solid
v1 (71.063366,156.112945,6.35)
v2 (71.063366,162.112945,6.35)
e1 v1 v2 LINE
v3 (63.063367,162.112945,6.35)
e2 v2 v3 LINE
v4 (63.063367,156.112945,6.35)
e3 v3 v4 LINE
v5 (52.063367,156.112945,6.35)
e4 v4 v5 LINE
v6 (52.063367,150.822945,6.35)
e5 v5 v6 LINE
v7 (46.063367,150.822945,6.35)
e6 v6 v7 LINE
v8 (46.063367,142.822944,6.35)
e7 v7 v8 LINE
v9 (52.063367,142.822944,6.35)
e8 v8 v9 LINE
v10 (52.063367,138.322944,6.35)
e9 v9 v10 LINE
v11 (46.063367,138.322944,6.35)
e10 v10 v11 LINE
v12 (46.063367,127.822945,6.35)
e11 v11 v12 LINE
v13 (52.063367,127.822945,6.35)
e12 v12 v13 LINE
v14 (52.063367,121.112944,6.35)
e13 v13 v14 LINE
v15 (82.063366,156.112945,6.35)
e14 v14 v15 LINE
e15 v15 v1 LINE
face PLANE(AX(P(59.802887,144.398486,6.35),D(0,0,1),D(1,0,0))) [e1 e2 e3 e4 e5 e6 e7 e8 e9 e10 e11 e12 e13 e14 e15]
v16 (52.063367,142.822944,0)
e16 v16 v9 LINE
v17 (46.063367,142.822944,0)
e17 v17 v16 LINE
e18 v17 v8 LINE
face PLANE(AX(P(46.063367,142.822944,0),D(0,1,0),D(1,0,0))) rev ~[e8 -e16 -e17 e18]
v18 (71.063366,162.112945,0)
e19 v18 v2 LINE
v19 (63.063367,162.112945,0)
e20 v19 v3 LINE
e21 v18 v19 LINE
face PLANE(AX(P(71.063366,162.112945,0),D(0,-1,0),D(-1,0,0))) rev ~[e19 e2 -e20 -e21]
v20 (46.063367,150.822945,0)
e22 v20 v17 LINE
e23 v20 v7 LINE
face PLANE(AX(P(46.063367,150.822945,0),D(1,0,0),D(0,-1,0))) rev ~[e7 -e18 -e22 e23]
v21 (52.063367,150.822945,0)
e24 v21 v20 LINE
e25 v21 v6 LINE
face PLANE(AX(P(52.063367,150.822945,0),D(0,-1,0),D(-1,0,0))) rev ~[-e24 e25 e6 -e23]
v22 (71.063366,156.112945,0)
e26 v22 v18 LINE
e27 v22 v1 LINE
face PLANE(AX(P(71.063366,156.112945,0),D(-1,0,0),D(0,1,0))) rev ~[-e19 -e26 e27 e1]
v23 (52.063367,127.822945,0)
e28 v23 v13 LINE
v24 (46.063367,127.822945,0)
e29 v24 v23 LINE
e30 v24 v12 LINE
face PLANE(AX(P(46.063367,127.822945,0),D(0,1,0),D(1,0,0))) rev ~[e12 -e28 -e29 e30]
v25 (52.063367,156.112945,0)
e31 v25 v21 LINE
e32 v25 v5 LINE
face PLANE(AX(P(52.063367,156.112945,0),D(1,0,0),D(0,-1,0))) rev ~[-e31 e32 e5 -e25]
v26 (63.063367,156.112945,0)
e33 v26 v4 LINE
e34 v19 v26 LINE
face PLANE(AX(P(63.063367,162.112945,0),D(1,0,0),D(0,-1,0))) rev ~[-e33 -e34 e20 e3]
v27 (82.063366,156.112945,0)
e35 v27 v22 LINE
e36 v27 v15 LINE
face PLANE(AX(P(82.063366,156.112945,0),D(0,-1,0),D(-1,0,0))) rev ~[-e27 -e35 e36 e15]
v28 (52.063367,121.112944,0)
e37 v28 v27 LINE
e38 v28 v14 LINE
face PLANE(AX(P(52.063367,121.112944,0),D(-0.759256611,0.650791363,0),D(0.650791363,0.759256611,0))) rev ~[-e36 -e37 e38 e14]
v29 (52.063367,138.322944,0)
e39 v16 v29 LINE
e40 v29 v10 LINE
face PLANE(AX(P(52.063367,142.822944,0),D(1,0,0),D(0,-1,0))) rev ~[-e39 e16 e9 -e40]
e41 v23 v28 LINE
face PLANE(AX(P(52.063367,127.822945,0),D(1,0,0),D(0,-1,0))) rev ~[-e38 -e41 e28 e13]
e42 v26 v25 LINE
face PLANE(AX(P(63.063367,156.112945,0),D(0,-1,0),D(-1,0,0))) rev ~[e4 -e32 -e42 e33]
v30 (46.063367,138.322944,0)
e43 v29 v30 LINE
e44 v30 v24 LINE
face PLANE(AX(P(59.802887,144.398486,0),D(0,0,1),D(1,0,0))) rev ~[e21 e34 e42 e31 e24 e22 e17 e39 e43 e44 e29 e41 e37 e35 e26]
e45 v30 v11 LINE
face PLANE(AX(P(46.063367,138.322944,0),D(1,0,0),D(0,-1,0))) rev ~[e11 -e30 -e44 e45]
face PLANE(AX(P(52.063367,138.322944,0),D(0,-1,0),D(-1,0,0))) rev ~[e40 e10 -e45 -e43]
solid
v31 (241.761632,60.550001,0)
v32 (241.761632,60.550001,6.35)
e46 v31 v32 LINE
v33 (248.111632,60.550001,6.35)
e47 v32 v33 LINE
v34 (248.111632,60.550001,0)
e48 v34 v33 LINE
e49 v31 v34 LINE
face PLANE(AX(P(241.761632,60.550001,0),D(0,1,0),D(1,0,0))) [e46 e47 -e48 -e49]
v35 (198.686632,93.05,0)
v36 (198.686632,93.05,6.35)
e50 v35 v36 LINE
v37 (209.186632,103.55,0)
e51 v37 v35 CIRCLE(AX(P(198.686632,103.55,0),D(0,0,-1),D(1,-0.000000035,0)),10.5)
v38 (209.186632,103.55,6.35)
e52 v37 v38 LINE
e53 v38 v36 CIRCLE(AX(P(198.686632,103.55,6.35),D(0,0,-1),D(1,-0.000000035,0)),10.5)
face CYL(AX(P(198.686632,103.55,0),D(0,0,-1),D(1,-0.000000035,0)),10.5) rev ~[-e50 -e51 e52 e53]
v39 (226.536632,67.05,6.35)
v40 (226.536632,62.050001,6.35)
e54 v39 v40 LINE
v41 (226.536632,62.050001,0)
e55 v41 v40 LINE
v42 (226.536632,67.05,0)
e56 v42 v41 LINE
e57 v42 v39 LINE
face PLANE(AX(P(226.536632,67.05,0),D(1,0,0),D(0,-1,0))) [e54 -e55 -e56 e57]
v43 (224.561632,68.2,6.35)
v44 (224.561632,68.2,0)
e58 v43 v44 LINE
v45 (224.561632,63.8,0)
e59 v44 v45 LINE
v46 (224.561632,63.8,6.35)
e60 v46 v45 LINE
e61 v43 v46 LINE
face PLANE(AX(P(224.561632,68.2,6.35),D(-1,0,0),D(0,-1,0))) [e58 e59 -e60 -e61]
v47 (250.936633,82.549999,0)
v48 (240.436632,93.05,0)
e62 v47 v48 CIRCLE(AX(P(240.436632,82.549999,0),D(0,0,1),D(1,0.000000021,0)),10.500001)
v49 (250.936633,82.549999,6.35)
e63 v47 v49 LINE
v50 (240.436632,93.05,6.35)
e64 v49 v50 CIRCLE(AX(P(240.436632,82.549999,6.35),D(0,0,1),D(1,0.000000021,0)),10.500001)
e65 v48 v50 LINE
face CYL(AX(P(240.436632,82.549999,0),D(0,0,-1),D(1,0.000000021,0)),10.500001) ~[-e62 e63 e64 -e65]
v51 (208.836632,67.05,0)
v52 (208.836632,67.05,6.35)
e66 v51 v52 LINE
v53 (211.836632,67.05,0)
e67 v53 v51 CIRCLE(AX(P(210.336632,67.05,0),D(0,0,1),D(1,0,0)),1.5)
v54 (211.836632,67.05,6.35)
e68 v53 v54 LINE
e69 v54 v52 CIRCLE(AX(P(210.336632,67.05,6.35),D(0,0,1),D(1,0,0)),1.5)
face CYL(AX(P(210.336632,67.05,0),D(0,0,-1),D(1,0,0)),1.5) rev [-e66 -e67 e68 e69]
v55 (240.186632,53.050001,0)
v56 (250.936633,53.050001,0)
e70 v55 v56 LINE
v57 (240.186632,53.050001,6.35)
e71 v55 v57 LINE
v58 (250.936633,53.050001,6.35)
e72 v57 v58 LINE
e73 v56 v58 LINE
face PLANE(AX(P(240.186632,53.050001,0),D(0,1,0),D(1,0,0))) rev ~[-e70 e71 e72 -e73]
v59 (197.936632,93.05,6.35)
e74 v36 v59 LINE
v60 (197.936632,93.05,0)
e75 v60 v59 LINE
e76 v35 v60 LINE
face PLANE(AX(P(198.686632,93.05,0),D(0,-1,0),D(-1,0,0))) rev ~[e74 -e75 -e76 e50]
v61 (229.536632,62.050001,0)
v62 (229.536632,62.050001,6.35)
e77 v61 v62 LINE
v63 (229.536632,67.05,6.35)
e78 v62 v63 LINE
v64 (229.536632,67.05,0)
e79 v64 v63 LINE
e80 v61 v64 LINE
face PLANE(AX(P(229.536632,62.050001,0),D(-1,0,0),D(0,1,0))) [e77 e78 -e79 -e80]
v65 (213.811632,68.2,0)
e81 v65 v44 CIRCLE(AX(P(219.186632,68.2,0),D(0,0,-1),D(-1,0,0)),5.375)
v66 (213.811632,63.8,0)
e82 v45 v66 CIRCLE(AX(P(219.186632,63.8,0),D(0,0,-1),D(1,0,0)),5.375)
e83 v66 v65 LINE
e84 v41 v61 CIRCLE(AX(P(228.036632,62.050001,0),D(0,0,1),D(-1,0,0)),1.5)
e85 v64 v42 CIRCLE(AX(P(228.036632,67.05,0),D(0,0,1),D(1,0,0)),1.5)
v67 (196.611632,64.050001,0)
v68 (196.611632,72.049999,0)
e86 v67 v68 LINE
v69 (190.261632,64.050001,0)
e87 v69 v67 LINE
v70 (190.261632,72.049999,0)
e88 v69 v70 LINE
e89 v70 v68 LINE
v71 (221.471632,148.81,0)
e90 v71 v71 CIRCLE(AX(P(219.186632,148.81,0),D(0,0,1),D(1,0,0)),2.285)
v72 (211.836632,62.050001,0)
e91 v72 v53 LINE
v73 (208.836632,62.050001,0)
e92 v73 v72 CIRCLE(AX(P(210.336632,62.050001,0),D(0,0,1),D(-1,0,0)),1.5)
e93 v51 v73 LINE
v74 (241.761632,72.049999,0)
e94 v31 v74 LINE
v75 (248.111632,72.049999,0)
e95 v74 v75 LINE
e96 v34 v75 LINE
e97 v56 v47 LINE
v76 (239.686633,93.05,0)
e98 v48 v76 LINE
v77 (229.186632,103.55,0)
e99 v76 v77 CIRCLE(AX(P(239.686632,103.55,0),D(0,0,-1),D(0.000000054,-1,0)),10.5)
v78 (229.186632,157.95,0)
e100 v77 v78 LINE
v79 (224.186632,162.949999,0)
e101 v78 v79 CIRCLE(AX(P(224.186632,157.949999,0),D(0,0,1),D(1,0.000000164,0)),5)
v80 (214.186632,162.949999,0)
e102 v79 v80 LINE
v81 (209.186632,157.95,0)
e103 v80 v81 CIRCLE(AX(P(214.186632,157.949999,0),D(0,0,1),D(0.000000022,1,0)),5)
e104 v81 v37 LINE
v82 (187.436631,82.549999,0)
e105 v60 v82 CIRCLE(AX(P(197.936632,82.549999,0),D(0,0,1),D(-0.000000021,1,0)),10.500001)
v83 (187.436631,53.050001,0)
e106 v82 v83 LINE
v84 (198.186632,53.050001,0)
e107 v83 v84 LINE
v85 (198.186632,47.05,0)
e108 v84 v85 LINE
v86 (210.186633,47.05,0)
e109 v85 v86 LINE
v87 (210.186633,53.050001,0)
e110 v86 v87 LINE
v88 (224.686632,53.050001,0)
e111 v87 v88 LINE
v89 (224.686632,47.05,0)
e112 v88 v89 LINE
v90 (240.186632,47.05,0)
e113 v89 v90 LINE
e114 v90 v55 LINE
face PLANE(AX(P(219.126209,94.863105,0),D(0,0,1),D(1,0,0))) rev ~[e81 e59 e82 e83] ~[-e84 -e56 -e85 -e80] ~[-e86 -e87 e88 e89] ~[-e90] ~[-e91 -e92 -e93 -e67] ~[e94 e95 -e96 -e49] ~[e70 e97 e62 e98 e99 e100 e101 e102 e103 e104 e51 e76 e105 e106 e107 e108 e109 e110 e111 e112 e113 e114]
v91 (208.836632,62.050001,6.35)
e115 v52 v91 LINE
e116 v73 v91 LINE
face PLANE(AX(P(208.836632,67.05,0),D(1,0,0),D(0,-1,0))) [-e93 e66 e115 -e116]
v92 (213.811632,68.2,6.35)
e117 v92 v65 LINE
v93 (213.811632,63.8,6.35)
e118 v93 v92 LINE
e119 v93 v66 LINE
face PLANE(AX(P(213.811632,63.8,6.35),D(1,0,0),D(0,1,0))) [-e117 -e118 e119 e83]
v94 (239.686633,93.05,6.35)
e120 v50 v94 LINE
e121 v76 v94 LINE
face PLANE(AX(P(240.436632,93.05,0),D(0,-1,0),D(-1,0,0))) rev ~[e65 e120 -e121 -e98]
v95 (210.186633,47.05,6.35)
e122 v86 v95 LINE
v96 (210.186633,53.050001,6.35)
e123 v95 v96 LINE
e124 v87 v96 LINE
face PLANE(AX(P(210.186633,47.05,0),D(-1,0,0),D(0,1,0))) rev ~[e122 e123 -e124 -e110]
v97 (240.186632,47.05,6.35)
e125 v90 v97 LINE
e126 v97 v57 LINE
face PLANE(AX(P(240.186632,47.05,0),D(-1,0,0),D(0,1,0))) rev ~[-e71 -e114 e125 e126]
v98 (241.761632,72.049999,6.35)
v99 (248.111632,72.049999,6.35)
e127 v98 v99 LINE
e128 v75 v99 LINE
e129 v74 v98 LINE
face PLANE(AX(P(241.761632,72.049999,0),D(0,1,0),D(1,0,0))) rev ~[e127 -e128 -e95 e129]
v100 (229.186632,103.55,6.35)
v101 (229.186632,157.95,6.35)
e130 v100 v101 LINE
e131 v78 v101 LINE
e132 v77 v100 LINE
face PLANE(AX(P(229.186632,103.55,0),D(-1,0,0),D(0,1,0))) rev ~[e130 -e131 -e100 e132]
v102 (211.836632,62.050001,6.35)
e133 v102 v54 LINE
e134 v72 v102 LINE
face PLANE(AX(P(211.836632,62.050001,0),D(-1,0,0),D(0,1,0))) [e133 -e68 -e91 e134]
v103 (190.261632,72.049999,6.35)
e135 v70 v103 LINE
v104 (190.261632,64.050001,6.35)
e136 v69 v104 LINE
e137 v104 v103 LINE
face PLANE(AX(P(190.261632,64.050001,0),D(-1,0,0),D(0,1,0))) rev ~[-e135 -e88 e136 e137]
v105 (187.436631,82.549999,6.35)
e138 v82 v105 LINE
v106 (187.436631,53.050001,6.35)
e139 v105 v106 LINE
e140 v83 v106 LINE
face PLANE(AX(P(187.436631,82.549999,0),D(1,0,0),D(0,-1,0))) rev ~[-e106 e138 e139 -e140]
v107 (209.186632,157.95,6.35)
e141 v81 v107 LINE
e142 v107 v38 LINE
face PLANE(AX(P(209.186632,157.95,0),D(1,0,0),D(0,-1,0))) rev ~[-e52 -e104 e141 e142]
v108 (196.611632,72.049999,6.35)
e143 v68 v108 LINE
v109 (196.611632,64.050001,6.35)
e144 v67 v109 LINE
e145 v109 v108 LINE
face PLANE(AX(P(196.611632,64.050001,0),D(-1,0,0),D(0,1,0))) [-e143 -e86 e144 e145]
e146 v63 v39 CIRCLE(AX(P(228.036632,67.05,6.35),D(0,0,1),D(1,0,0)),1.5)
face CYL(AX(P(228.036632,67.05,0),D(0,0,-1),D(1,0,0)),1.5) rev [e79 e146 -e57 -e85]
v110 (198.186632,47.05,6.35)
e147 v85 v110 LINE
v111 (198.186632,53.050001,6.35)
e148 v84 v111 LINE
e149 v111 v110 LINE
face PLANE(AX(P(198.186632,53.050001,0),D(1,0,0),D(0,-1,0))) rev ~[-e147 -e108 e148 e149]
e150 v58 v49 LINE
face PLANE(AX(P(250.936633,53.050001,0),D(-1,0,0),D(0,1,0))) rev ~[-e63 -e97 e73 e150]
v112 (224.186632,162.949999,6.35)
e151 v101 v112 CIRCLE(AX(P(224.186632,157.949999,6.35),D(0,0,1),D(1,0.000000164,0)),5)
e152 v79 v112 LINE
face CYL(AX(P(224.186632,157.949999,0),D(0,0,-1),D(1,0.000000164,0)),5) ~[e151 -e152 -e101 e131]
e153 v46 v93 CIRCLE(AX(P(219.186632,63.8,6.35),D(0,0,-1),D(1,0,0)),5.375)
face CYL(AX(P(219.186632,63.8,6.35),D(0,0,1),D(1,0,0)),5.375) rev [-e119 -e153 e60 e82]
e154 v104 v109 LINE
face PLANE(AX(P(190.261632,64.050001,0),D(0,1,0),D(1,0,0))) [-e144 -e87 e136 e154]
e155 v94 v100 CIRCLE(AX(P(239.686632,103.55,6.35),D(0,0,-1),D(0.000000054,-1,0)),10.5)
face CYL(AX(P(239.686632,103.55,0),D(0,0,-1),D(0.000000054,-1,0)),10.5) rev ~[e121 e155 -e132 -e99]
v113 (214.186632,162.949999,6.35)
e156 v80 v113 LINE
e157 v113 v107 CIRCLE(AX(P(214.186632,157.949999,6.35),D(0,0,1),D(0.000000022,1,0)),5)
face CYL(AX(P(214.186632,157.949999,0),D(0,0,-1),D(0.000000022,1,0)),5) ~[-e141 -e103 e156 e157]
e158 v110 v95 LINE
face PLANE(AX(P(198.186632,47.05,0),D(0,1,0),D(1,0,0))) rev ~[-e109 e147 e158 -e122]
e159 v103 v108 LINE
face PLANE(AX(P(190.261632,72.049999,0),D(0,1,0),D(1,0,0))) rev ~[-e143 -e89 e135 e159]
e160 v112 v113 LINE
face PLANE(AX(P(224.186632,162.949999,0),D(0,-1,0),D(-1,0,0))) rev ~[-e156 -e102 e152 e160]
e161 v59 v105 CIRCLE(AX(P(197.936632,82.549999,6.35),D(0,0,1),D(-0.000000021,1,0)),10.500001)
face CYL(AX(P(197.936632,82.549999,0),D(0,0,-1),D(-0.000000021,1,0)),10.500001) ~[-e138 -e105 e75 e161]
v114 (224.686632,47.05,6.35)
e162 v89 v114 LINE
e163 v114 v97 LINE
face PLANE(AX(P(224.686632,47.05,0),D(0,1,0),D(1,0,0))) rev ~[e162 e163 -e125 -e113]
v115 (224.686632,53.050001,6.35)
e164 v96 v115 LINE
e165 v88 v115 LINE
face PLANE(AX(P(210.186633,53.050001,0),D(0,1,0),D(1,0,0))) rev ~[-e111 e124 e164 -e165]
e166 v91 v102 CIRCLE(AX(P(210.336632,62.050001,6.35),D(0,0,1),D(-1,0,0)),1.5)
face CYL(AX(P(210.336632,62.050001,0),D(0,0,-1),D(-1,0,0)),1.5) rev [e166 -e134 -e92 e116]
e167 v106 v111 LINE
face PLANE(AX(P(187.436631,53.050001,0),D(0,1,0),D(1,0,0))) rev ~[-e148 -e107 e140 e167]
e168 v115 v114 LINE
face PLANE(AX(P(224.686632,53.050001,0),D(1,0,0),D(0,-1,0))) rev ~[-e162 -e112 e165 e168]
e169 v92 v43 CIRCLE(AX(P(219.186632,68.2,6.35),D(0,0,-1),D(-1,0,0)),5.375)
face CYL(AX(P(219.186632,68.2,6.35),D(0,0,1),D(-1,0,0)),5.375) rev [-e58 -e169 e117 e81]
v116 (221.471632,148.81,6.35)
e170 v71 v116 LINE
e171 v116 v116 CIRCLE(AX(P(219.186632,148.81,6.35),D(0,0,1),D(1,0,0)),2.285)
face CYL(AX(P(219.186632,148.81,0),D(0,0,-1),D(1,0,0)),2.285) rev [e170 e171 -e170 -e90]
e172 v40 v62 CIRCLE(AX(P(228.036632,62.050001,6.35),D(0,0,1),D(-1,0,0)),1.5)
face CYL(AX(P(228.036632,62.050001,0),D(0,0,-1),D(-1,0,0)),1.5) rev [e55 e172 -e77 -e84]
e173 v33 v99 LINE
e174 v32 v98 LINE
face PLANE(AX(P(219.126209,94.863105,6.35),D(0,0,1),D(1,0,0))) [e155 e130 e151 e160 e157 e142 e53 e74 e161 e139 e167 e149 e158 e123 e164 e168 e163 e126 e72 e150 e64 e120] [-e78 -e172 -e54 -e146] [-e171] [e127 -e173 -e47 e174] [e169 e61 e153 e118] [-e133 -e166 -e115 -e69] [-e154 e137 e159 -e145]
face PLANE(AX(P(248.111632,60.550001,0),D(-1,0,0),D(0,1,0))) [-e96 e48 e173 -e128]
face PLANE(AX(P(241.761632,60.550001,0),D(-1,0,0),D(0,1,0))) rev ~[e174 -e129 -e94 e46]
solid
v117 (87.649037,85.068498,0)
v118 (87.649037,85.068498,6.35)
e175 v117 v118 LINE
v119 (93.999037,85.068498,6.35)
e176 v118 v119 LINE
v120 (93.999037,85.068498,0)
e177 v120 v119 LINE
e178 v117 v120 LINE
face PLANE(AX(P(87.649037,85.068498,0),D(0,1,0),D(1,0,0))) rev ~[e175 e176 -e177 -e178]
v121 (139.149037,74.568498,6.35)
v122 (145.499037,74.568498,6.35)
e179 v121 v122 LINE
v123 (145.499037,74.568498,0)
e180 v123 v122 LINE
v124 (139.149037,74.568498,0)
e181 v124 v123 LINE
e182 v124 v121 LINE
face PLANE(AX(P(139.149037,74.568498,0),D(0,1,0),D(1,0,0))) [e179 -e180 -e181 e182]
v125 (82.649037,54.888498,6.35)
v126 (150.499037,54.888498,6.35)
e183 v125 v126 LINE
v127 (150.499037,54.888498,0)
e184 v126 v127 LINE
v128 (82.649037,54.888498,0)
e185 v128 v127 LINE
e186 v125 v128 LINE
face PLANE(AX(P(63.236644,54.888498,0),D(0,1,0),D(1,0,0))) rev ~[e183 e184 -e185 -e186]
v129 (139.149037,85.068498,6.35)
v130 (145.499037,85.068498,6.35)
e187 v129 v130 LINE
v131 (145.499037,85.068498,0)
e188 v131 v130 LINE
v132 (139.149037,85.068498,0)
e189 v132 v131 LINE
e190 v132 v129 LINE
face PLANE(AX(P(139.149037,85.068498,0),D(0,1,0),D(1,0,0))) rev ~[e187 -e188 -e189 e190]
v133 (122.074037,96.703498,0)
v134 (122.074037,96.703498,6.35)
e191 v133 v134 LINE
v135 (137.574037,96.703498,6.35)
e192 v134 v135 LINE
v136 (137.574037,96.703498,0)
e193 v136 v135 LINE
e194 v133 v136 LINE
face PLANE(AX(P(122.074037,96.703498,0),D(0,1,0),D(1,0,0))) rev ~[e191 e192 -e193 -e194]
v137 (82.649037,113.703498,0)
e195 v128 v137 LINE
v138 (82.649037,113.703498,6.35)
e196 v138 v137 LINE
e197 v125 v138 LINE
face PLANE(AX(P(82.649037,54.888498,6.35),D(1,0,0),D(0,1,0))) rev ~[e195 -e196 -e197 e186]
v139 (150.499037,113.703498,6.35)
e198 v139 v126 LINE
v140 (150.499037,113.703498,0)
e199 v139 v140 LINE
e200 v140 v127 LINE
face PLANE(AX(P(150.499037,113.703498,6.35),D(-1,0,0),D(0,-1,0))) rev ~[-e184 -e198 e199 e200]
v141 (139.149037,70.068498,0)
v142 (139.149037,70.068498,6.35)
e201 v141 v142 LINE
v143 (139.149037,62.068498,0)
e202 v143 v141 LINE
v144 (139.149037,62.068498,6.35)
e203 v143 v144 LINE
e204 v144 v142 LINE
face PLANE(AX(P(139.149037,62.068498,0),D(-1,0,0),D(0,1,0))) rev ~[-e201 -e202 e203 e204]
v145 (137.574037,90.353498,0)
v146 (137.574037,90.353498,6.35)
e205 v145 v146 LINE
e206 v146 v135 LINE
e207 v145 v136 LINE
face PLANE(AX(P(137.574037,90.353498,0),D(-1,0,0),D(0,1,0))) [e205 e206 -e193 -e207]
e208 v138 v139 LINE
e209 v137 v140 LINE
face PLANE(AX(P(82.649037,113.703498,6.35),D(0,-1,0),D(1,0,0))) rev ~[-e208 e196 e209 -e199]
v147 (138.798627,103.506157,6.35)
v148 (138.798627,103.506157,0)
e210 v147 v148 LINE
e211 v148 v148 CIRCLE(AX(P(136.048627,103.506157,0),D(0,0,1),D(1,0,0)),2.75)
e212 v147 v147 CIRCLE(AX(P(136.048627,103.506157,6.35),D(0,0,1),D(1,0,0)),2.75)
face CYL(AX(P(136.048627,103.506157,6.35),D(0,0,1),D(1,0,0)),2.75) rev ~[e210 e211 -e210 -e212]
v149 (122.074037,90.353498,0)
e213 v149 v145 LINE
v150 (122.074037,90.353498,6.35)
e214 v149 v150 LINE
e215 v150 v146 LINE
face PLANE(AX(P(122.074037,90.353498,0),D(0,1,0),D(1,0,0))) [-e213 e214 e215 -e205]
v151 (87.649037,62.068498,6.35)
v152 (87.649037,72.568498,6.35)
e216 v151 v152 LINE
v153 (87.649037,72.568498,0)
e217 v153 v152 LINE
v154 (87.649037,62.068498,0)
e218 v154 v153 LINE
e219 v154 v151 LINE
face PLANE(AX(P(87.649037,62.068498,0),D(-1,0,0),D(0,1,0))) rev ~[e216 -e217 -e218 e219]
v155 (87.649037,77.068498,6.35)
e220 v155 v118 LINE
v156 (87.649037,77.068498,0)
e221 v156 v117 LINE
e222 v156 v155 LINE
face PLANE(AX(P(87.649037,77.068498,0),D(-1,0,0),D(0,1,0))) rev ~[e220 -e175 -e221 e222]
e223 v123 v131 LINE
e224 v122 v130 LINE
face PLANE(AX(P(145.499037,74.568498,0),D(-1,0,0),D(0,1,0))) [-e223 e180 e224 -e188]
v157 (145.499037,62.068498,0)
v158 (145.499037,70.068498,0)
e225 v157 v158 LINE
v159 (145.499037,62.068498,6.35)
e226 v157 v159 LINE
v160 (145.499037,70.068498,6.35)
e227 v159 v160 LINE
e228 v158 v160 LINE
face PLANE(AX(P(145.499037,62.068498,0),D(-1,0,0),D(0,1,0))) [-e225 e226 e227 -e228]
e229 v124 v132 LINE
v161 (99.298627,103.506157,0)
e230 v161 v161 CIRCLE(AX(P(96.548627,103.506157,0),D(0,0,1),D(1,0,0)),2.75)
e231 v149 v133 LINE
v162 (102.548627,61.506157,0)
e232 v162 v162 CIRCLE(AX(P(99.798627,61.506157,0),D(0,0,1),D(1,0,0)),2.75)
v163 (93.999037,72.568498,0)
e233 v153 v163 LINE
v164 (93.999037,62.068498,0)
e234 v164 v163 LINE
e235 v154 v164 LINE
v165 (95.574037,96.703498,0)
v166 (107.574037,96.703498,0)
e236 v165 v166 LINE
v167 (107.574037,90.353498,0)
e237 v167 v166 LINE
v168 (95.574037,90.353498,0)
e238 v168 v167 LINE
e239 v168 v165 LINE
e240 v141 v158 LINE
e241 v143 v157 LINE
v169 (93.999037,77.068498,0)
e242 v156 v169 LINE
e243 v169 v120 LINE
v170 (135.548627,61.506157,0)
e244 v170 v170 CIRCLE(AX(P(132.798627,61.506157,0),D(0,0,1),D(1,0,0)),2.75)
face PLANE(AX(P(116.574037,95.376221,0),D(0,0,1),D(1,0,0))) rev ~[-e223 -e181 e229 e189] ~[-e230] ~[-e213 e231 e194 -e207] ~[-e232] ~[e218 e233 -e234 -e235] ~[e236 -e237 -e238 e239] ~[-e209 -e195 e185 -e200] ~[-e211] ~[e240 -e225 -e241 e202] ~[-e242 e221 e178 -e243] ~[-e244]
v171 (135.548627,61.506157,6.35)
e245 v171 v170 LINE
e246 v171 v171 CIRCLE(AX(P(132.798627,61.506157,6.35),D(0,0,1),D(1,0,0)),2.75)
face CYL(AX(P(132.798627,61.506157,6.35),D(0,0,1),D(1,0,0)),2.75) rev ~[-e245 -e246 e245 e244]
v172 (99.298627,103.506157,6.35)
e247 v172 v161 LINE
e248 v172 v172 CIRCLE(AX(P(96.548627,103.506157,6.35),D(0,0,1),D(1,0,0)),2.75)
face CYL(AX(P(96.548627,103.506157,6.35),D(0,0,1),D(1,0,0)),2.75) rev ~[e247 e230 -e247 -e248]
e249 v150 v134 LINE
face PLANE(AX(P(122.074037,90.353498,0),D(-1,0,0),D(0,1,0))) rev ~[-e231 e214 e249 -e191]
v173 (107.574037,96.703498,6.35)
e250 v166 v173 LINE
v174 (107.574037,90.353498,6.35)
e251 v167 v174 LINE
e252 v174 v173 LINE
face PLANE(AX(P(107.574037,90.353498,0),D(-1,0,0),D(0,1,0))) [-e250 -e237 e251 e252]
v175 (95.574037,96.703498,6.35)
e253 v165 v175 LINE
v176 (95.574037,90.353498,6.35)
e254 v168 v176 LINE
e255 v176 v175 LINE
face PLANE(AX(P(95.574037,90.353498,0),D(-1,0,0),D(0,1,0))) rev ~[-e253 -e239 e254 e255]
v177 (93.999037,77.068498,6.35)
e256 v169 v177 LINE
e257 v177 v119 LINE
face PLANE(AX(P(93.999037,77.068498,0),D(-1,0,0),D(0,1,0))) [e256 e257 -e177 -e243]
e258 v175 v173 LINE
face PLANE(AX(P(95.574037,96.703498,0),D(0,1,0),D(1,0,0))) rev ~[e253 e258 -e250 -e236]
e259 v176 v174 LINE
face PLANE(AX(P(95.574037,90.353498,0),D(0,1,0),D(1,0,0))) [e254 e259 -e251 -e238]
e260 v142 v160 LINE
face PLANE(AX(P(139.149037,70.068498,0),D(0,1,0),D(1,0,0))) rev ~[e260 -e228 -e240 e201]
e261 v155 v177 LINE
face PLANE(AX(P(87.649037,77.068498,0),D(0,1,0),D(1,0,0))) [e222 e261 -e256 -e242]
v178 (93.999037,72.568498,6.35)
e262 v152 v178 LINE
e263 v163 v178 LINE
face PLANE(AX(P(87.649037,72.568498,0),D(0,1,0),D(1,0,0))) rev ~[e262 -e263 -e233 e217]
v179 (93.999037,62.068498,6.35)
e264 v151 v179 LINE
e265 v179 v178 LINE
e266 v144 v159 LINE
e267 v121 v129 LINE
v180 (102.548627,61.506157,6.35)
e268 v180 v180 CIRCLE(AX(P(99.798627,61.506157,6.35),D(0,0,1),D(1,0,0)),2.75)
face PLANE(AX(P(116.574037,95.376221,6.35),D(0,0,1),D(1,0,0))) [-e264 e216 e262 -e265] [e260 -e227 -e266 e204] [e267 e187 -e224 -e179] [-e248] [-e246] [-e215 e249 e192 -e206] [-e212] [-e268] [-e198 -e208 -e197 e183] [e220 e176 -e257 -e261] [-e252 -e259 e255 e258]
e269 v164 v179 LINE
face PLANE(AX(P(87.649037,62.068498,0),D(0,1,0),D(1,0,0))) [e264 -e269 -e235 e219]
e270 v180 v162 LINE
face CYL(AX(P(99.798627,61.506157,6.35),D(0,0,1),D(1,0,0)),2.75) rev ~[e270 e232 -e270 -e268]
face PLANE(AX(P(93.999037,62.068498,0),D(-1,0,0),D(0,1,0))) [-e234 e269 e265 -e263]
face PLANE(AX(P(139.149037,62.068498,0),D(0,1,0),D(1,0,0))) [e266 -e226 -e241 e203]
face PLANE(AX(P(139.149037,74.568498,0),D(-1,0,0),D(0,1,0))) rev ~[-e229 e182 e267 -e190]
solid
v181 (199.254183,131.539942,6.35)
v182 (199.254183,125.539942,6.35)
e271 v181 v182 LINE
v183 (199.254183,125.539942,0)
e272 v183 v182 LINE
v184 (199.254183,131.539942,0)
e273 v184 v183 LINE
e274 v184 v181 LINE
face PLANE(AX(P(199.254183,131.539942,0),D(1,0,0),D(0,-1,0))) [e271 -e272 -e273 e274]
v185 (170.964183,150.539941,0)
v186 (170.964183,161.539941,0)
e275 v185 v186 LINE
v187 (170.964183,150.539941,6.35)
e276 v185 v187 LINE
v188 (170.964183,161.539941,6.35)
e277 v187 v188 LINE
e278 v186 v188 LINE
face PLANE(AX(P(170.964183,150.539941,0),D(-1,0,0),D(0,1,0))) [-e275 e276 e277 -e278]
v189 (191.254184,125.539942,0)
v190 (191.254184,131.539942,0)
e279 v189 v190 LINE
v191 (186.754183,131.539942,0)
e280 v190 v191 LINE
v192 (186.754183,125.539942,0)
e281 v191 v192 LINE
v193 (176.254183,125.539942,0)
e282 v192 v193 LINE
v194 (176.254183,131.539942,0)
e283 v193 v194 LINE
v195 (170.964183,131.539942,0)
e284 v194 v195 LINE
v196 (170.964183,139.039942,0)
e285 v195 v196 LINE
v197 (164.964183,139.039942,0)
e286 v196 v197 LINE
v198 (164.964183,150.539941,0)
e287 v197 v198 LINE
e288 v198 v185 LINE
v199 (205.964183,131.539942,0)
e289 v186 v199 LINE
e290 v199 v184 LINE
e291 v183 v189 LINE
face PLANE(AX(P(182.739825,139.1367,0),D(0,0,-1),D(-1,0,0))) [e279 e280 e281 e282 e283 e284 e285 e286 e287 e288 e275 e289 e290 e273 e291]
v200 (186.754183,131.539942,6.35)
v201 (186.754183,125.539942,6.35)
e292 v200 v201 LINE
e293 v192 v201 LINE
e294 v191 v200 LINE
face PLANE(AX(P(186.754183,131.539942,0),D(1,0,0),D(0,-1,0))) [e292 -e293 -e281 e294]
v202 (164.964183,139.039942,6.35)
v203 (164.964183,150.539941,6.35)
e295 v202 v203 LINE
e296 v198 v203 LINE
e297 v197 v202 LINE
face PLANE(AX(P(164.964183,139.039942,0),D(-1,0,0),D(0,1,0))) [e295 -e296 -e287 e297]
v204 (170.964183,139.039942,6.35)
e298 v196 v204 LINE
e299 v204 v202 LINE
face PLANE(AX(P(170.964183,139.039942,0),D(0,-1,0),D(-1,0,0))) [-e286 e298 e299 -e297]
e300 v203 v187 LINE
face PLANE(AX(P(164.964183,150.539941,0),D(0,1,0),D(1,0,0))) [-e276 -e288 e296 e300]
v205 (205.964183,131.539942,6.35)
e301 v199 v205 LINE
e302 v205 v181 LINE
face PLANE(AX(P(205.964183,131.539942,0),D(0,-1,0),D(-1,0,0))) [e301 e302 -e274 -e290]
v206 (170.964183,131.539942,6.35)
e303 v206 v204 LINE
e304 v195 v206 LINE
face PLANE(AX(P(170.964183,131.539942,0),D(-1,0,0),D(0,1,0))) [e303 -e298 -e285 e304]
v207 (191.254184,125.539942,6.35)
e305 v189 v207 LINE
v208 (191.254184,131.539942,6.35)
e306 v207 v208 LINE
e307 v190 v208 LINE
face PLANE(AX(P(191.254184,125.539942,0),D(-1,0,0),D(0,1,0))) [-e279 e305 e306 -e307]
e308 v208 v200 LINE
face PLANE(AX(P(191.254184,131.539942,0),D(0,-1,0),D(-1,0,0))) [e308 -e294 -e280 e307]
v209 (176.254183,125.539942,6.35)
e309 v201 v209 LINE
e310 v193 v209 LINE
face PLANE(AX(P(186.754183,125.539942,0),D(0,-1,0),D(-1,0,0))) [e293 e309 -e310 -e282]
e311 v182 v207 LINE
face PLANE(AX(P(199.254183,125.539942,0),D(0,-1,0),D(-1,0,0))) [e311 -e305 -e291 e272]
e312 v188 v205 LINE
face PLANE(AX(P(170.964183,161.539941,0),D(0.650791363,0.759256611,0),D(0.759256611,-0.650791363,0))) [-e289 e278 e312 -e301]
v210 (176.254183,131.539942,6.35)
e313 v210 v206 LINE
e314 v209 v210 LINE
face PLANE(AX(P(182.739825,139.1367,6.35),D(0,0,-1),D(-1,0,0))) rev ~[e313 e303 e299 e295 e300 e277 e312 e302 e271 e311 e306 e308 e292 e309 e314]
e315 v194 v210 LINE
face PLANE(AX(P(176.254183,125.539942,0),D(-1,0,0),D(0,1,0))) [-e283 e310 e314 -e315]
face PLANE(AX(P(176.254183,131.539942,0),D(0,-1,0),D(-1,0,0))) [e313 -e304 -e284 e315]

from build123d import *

# Parameters (mm, degrees)
BOSS_EXTRUDE1_DEPTH   = 6.35
MODEL_R               = 2.285
MODEL_W               = 6.349999458
MODEL_H               = 11.499997586
MODEL_H_2             = 7.999997586
BOSS_EXTRUDE1_2_DEPTH = 6.35
MODEL_R_2             = 2.2
MODEL_W_2             = 6.35
MODEL_H_3             = 8
MODEL_H_4             = 10.5
MODEL_W_3             = 12
MODEL_H_5             = 6.35
MODEL_W_4             = 15.5
BOSS_EXTRUDE1_3_DEPTH = 6.35
BOSS_EXTRUDE1_4_DEPTH = 6.35
BOSS_EXTRUDE2_DEPTH   = 6.35
CUT_EXTRUDE2_DEPTH    = 10
SKETCH5_R             = 2.75
CUT_EXTRUDE3_DEPTH    = 10


with BuildPart() as part:
    # Model → Boss-Extrude1 (new body)
    with BuildSketch(Plane.XY):
        Polygon((46.063366814, 150.822944758), (46.063366814, 142.822944378), (52.063366866, 142.822944378), (52.063366866, 138.322944162), (46.063366814, 138.322944162), (46.063366814, 127.822944713), (52.063366866, 127.822944713), (52.063366866, 121.112944377), (82.063366196, 156.112944526), (71.063366255, 156.112944526), (71.063366255, 162.112944578), (63.063366807, 162.112944578), (63.063366807, 156.112944526), (52.063366866, 156.112944526), (52.063366866, 150.822944758), align=None)
    extrude(amount=BOSS_EXTRUDE1_DEPTH)


with BuildPart() as body_2:
    # Model → Boss-Extrude1 2 (new body)
    with BuildSketch(Plane.XY):
        with BuildLine():
            Line((198.186632456, 47.05000008), (210.18663256, 47.05000008))
            Line((210.18663256, 47.05000008), (210.18663256, 53.050001064))
            Line((210.18663256, 53.050001064), (224.686631785, 53.050001064))
            Line((224.686631785, 53.050001064), (224.686631785, 47.05000008))
            Line((224.686631785, 47.05000008), (240.186631889, 47.05000008))
            Line((240.186631889, 47.05000008), (240.186631889, 53.050001064))
            Line((240.186631889, 53.050001064), (250.936633186, 53.050001064))
            Line((250.936633186, 53.050001064), (250.936633186, 82.54999938))
            ThreePointArc((250.936633186, 82.54999938), (247.861254091, 89.974621076), (240.436632396, 93.05000017))
            Line((240.436632396, 93.05000017), (239.686632739, 93.05000017))
            ThreePointArc((239.686632739, 93.05000017), (232.262011141, 96.125378704), (229.186631949, 103.550000028))
            Line((229.186631949, 103.550000028), (229.186631949, 157.949999818))
            ThreePointArc((229.186631949, 157.949999818), (227.722165591, 161.485533076), (224.186632061, 162.949998775))
            Line((224.186632061, 162.949998775), (214.186632284, 162.949998775))
            ThreePointArc((214.186632284, 162.949998775), (210.651098754, 161.485533076), (209.186632396, 157.949999818))
            Line((209.186632396, 157.949999818), (209.186632396, 103.550000028))
            ThreePointArc((209.186632396, 103.550000028), (206.111253204, 96.125378704), (198.686631606, 93.05000017))
            Line((198.686631606, 93.05000017), (197.936631949, 93.05000017))
            ThreePointArc((197.936631949, 93.05000017), (190.512010254, 89.974621076), (187.436631159, 82.54999938))
            Line((187.436631159, 82.54999938), (187.436631159, 53.050001064))
            Line((187.436631159, 53.050001064), (198.186632456, 53.050001064))
            Line((198.186632456, 53.050001064), (198.186632456, 47.05000008))
        make_face()
        with Locations((219.186632172, 148.80999992)):
            Circle(MODEL_R, mode=Mode.SUBTRACT)
        with Locations((244.936632202, 66.299999797)):
            Rectangle(MODEL_W, MODEL_H, mode=Mode.SUBTRACT)
        with Locations((193.436632143, 68.049999797)):
            Rectangle(MODEL_W, MODEL_H_2, mode=Mode.SUBTRACT)
        with BuildLine():
            Line((208.836632059, 67.049999633), (208.836632059, 62.050000676))
            ThreePointArc((208.836632059, 62.050000676), (210.336632072, 60.550000663), (211.836632085, 62.050000676))
            Line((211.836632085, 62.050000676), (211.836632085, 67.049999633))
            ThreePointArc((211.836632085, 67.049999633), (210.336632072, 68.549999646), (208.836632059, 67.049999633))
        make_face(mode=Mode.SUBTRACT)
        with BuildLine():
            Line((212.811632292, 68.200000474), (212.811632292, 63.800000498))
            ThreePointArc((212.811632292, 63.800000498), (219.186632172, 57.425000617), (225.561632053, 63.800000498))
            Line((225.561632053, 63.800000498), (225.561632053, 68.200000474))
            ThreePointArc((225.561632053, 68.200000474), (219.186632172, 74.575000355), (212.811632292, 68.200000474))
        make_face(mode=Mode.SUBTRACT)
        with BuildLine():
            Line((226.53663226, 67.049999633), (226.53663226, 62.050000676))
            ThreePointArc((226.53663226, 62.050000676), (228.036632273, 60.550000663), (229.536632286, 62.050000676))
            Line((229.536632286, 62.050000676), (229.536632286, 67.049999633))
            ThreePointArc((229.536632286, 67.049999633), (228.036632273, 68.549999646), (226.53663226, 67.049999633))
        make_face(mode=Mode.SUBTRACT)
    extrude(amount=BOSS_EXTRUDE1_2_DEPTH)

    # Sketch2 → Boss-Extrude2 (add)
    with BuildSketch(Plane.XY.offset(6.35)):
        with BuildLine():
            Line((226.141476956, 68.200000474), (226.141476956, 63.800000498))
            ThreePointArc((226.141476956, 63.800000498), (219.186632172, 56.845155714), (212.231787389, 63.800000498))
            Line((212.231787389, 63.800000498), (212.231787389, 68.200000474))
            ThreePointArc((212.231787389, 68.200000474), (219.186632172, 75.154845258), (226.141476956, 68.200000474))
        make_face()
        with BuildLine():
            Line((224.561632053, 68.200000474), (224.561632053, 63.800000498))
            ThreePointArc((224.561632053, 63.800000498), (219.186632172, 58.425000617), (213.811632292, 63.800000498))
            Line((213.811632292, 63.800000498), (213.811632292, 68.200000474))
            ThreePointArc((213.811632292, 68.200000474), (219.186632172, 73.575000355), (224.561632053, 68.200000474))
        make_face(mode=Mode.SUBTRACT)
    extrude(amount=-BOSS_EXTRUDE2_DEPTH)


with BuildPart() as body_3:
    # Model → Boss-Extrude1 3 (new body)
    with BuildSketch(Plane.XY):
        with BuildLine():
            Line((63.236644346, 54.888498462), (169.911430495, 54.888498462))
            ThreePointArc((169.911430495, 54.888498462), (116.57403742, 157.038498462), (63.236644346, 54.888498462))
        make_face()
        with Locations((78.57403742, 66.138498462)):
            Circle(MODEL_R_2, mode=Mode.SUBTRACT)
        with Locations((154.57403742, 66.138498462)):
            Circle(MODEL_R_2, mode=Mode.SUBTRACT)
        with Locations((83.57403742, 117.888498462)):
            Circle(MODEL_R_2, mode=Mode.SUBTRACT)
        with Locations((149.57403742, 117.888498462)):
            Circle(MODEL_R_2, mode=Mode.SUBTRACT)
        with BuildLine():
            Line((71.600291376, 124.508498462), (71.600291376, 132.508498462))
            Line((71.600291376, 132.508498462), (83.600291376, 132.508498462))
            ThreePointArc((83.600291376, 132.508498462), (85.721611719, 131.629818805), (86.600291376, 129.508498462))
            Line((86.600291376, 129.508498462), (86.600291376, 124.508498462))
            Line((86.600291376, 124.508498462), (71.600291376, 124.508498462))
        make_face(mode=Mode.SUBTRACT)
        with Locations((90.82403742, 81.068498462)):
            Rectangle(MODEL_W_2, MODEL_H_3, mode=Mode.SUBTRACT)
        with Locations((90.82403742, 67.318498462)):
            Rectangle(MODEL_W_2, MODEL_H_4, mode=Mode.SUBTRACT)
        with Locations((101.57403742, 93.528498462)):
            Rectangle(MODEL_W_3, MODEL_H_5, mode=Mode.SUBTRACT)
        with Locations((142.32403742, 66.068498462)):
            Rectangle(MODEL_W_2, MODEL_H_3, mode=Mode.SUBTRACT)
        with Locations((142.32403742, 79.818498462)):
            Rectangle(MODEL_W_2, MODEL_H_4, mode=Mode.SUBTRACT)
        with Locations((129.82403742, 93.528498462)):
            Rectangle(MODEL_W_4, MODEL_H_5, mode=Mode.SUBTRACT)
        with BuildLine():
            Line((129.62403742, 124.258498462), (129.62403742, 131.258498462))
            ThreePointArc((129.62403742, 131.258498462), (130.209823858, 132.672712024), (131.62403742, 133.258498462))
            Line((131.62403742, 133.258498462), (140.62403742, 133.258498462))
            Line((140.62403742, 133.258498462), (140.62403742, 124.258498462))
            Line((140.62403742, 124.258498462), (129.62403742, 124.258498462))
        make_face(mode=Mode.SUBTRACT)
    extrude(amount=BOSS_EXTRUDE1_3_DEPTH)

    # Sketch4 → Cut-Extrude2 (cut)
    with BuildSketch(Plane.XY.offset(6.35)):
        Polygon((82.64903742, 54.888498462), (82.64903742, 113.703498462), (150.49903742, 113.703498462), (150.49903742, 54.888498462), (177.464223164, 45.724379929), (187.548511436, 101.148049377), (181.20637086, 118.022673409), (161.89688875, 140.774931398), (153.514477912, 163.078131664), (94.687916137, 166.82027936), (55.320522378, 121.465449289), (31.670148942, 45.724379929), align=None)
    extrude(amount=-CUT_EXTRUDE2_DEPTH, mode=Mode.SUBTRACT)

    # Sketch5 → Cut-Extrude3 (cut)
    with BuildSketch(Plane.XY.offset(6.35)):
        with Locations((99.798626622, 61.5061567)):
            Circle(SKETCH5_R)
        with Locations((132.798626622, 61.5061567)):
            Circle(SKETCH5_R)
        with Locations((96.548626622, 103.5061567)):
            Circle(SKETCH5_R)
        with Locations((136.048626622, 103.5061567)):
            Circle(SKETCH5_R)
    extrude(amount=-CUT_EXTRUDE3_DEPTH, mode=Mode.SUBTRACT)


with BuildPart() as body_4:
    # Model → Boss-Extrude1 4 (new body)
    with BuildSketch(Plane.XY):
        Polygon((164.964183141, 139.039941551), (164.964183141, 150.539941), (170.964183193, 150.539941), (170.964183193, 161.53994094), (205.964183342, 131.539941611), (199.254183006, 131.539941611), (199.254183006, 125.539941558), (191.254183557, 125.539941558), (191.254183557, 131.539941611), (186.754183341, 131.539941611), (186.754183341, 125.539941558), (176.254182961, 125.539941558), (176.254182961, 131.539941611), (170.964183193, 131.539941611), (170.964183193, 139.039941551), align=None)
    extrude(amount=BOSS_EXTRUDE1_4_DEPTH)


solid = Compound([part.part, body_2.part, body_3.part, body_4.part])
